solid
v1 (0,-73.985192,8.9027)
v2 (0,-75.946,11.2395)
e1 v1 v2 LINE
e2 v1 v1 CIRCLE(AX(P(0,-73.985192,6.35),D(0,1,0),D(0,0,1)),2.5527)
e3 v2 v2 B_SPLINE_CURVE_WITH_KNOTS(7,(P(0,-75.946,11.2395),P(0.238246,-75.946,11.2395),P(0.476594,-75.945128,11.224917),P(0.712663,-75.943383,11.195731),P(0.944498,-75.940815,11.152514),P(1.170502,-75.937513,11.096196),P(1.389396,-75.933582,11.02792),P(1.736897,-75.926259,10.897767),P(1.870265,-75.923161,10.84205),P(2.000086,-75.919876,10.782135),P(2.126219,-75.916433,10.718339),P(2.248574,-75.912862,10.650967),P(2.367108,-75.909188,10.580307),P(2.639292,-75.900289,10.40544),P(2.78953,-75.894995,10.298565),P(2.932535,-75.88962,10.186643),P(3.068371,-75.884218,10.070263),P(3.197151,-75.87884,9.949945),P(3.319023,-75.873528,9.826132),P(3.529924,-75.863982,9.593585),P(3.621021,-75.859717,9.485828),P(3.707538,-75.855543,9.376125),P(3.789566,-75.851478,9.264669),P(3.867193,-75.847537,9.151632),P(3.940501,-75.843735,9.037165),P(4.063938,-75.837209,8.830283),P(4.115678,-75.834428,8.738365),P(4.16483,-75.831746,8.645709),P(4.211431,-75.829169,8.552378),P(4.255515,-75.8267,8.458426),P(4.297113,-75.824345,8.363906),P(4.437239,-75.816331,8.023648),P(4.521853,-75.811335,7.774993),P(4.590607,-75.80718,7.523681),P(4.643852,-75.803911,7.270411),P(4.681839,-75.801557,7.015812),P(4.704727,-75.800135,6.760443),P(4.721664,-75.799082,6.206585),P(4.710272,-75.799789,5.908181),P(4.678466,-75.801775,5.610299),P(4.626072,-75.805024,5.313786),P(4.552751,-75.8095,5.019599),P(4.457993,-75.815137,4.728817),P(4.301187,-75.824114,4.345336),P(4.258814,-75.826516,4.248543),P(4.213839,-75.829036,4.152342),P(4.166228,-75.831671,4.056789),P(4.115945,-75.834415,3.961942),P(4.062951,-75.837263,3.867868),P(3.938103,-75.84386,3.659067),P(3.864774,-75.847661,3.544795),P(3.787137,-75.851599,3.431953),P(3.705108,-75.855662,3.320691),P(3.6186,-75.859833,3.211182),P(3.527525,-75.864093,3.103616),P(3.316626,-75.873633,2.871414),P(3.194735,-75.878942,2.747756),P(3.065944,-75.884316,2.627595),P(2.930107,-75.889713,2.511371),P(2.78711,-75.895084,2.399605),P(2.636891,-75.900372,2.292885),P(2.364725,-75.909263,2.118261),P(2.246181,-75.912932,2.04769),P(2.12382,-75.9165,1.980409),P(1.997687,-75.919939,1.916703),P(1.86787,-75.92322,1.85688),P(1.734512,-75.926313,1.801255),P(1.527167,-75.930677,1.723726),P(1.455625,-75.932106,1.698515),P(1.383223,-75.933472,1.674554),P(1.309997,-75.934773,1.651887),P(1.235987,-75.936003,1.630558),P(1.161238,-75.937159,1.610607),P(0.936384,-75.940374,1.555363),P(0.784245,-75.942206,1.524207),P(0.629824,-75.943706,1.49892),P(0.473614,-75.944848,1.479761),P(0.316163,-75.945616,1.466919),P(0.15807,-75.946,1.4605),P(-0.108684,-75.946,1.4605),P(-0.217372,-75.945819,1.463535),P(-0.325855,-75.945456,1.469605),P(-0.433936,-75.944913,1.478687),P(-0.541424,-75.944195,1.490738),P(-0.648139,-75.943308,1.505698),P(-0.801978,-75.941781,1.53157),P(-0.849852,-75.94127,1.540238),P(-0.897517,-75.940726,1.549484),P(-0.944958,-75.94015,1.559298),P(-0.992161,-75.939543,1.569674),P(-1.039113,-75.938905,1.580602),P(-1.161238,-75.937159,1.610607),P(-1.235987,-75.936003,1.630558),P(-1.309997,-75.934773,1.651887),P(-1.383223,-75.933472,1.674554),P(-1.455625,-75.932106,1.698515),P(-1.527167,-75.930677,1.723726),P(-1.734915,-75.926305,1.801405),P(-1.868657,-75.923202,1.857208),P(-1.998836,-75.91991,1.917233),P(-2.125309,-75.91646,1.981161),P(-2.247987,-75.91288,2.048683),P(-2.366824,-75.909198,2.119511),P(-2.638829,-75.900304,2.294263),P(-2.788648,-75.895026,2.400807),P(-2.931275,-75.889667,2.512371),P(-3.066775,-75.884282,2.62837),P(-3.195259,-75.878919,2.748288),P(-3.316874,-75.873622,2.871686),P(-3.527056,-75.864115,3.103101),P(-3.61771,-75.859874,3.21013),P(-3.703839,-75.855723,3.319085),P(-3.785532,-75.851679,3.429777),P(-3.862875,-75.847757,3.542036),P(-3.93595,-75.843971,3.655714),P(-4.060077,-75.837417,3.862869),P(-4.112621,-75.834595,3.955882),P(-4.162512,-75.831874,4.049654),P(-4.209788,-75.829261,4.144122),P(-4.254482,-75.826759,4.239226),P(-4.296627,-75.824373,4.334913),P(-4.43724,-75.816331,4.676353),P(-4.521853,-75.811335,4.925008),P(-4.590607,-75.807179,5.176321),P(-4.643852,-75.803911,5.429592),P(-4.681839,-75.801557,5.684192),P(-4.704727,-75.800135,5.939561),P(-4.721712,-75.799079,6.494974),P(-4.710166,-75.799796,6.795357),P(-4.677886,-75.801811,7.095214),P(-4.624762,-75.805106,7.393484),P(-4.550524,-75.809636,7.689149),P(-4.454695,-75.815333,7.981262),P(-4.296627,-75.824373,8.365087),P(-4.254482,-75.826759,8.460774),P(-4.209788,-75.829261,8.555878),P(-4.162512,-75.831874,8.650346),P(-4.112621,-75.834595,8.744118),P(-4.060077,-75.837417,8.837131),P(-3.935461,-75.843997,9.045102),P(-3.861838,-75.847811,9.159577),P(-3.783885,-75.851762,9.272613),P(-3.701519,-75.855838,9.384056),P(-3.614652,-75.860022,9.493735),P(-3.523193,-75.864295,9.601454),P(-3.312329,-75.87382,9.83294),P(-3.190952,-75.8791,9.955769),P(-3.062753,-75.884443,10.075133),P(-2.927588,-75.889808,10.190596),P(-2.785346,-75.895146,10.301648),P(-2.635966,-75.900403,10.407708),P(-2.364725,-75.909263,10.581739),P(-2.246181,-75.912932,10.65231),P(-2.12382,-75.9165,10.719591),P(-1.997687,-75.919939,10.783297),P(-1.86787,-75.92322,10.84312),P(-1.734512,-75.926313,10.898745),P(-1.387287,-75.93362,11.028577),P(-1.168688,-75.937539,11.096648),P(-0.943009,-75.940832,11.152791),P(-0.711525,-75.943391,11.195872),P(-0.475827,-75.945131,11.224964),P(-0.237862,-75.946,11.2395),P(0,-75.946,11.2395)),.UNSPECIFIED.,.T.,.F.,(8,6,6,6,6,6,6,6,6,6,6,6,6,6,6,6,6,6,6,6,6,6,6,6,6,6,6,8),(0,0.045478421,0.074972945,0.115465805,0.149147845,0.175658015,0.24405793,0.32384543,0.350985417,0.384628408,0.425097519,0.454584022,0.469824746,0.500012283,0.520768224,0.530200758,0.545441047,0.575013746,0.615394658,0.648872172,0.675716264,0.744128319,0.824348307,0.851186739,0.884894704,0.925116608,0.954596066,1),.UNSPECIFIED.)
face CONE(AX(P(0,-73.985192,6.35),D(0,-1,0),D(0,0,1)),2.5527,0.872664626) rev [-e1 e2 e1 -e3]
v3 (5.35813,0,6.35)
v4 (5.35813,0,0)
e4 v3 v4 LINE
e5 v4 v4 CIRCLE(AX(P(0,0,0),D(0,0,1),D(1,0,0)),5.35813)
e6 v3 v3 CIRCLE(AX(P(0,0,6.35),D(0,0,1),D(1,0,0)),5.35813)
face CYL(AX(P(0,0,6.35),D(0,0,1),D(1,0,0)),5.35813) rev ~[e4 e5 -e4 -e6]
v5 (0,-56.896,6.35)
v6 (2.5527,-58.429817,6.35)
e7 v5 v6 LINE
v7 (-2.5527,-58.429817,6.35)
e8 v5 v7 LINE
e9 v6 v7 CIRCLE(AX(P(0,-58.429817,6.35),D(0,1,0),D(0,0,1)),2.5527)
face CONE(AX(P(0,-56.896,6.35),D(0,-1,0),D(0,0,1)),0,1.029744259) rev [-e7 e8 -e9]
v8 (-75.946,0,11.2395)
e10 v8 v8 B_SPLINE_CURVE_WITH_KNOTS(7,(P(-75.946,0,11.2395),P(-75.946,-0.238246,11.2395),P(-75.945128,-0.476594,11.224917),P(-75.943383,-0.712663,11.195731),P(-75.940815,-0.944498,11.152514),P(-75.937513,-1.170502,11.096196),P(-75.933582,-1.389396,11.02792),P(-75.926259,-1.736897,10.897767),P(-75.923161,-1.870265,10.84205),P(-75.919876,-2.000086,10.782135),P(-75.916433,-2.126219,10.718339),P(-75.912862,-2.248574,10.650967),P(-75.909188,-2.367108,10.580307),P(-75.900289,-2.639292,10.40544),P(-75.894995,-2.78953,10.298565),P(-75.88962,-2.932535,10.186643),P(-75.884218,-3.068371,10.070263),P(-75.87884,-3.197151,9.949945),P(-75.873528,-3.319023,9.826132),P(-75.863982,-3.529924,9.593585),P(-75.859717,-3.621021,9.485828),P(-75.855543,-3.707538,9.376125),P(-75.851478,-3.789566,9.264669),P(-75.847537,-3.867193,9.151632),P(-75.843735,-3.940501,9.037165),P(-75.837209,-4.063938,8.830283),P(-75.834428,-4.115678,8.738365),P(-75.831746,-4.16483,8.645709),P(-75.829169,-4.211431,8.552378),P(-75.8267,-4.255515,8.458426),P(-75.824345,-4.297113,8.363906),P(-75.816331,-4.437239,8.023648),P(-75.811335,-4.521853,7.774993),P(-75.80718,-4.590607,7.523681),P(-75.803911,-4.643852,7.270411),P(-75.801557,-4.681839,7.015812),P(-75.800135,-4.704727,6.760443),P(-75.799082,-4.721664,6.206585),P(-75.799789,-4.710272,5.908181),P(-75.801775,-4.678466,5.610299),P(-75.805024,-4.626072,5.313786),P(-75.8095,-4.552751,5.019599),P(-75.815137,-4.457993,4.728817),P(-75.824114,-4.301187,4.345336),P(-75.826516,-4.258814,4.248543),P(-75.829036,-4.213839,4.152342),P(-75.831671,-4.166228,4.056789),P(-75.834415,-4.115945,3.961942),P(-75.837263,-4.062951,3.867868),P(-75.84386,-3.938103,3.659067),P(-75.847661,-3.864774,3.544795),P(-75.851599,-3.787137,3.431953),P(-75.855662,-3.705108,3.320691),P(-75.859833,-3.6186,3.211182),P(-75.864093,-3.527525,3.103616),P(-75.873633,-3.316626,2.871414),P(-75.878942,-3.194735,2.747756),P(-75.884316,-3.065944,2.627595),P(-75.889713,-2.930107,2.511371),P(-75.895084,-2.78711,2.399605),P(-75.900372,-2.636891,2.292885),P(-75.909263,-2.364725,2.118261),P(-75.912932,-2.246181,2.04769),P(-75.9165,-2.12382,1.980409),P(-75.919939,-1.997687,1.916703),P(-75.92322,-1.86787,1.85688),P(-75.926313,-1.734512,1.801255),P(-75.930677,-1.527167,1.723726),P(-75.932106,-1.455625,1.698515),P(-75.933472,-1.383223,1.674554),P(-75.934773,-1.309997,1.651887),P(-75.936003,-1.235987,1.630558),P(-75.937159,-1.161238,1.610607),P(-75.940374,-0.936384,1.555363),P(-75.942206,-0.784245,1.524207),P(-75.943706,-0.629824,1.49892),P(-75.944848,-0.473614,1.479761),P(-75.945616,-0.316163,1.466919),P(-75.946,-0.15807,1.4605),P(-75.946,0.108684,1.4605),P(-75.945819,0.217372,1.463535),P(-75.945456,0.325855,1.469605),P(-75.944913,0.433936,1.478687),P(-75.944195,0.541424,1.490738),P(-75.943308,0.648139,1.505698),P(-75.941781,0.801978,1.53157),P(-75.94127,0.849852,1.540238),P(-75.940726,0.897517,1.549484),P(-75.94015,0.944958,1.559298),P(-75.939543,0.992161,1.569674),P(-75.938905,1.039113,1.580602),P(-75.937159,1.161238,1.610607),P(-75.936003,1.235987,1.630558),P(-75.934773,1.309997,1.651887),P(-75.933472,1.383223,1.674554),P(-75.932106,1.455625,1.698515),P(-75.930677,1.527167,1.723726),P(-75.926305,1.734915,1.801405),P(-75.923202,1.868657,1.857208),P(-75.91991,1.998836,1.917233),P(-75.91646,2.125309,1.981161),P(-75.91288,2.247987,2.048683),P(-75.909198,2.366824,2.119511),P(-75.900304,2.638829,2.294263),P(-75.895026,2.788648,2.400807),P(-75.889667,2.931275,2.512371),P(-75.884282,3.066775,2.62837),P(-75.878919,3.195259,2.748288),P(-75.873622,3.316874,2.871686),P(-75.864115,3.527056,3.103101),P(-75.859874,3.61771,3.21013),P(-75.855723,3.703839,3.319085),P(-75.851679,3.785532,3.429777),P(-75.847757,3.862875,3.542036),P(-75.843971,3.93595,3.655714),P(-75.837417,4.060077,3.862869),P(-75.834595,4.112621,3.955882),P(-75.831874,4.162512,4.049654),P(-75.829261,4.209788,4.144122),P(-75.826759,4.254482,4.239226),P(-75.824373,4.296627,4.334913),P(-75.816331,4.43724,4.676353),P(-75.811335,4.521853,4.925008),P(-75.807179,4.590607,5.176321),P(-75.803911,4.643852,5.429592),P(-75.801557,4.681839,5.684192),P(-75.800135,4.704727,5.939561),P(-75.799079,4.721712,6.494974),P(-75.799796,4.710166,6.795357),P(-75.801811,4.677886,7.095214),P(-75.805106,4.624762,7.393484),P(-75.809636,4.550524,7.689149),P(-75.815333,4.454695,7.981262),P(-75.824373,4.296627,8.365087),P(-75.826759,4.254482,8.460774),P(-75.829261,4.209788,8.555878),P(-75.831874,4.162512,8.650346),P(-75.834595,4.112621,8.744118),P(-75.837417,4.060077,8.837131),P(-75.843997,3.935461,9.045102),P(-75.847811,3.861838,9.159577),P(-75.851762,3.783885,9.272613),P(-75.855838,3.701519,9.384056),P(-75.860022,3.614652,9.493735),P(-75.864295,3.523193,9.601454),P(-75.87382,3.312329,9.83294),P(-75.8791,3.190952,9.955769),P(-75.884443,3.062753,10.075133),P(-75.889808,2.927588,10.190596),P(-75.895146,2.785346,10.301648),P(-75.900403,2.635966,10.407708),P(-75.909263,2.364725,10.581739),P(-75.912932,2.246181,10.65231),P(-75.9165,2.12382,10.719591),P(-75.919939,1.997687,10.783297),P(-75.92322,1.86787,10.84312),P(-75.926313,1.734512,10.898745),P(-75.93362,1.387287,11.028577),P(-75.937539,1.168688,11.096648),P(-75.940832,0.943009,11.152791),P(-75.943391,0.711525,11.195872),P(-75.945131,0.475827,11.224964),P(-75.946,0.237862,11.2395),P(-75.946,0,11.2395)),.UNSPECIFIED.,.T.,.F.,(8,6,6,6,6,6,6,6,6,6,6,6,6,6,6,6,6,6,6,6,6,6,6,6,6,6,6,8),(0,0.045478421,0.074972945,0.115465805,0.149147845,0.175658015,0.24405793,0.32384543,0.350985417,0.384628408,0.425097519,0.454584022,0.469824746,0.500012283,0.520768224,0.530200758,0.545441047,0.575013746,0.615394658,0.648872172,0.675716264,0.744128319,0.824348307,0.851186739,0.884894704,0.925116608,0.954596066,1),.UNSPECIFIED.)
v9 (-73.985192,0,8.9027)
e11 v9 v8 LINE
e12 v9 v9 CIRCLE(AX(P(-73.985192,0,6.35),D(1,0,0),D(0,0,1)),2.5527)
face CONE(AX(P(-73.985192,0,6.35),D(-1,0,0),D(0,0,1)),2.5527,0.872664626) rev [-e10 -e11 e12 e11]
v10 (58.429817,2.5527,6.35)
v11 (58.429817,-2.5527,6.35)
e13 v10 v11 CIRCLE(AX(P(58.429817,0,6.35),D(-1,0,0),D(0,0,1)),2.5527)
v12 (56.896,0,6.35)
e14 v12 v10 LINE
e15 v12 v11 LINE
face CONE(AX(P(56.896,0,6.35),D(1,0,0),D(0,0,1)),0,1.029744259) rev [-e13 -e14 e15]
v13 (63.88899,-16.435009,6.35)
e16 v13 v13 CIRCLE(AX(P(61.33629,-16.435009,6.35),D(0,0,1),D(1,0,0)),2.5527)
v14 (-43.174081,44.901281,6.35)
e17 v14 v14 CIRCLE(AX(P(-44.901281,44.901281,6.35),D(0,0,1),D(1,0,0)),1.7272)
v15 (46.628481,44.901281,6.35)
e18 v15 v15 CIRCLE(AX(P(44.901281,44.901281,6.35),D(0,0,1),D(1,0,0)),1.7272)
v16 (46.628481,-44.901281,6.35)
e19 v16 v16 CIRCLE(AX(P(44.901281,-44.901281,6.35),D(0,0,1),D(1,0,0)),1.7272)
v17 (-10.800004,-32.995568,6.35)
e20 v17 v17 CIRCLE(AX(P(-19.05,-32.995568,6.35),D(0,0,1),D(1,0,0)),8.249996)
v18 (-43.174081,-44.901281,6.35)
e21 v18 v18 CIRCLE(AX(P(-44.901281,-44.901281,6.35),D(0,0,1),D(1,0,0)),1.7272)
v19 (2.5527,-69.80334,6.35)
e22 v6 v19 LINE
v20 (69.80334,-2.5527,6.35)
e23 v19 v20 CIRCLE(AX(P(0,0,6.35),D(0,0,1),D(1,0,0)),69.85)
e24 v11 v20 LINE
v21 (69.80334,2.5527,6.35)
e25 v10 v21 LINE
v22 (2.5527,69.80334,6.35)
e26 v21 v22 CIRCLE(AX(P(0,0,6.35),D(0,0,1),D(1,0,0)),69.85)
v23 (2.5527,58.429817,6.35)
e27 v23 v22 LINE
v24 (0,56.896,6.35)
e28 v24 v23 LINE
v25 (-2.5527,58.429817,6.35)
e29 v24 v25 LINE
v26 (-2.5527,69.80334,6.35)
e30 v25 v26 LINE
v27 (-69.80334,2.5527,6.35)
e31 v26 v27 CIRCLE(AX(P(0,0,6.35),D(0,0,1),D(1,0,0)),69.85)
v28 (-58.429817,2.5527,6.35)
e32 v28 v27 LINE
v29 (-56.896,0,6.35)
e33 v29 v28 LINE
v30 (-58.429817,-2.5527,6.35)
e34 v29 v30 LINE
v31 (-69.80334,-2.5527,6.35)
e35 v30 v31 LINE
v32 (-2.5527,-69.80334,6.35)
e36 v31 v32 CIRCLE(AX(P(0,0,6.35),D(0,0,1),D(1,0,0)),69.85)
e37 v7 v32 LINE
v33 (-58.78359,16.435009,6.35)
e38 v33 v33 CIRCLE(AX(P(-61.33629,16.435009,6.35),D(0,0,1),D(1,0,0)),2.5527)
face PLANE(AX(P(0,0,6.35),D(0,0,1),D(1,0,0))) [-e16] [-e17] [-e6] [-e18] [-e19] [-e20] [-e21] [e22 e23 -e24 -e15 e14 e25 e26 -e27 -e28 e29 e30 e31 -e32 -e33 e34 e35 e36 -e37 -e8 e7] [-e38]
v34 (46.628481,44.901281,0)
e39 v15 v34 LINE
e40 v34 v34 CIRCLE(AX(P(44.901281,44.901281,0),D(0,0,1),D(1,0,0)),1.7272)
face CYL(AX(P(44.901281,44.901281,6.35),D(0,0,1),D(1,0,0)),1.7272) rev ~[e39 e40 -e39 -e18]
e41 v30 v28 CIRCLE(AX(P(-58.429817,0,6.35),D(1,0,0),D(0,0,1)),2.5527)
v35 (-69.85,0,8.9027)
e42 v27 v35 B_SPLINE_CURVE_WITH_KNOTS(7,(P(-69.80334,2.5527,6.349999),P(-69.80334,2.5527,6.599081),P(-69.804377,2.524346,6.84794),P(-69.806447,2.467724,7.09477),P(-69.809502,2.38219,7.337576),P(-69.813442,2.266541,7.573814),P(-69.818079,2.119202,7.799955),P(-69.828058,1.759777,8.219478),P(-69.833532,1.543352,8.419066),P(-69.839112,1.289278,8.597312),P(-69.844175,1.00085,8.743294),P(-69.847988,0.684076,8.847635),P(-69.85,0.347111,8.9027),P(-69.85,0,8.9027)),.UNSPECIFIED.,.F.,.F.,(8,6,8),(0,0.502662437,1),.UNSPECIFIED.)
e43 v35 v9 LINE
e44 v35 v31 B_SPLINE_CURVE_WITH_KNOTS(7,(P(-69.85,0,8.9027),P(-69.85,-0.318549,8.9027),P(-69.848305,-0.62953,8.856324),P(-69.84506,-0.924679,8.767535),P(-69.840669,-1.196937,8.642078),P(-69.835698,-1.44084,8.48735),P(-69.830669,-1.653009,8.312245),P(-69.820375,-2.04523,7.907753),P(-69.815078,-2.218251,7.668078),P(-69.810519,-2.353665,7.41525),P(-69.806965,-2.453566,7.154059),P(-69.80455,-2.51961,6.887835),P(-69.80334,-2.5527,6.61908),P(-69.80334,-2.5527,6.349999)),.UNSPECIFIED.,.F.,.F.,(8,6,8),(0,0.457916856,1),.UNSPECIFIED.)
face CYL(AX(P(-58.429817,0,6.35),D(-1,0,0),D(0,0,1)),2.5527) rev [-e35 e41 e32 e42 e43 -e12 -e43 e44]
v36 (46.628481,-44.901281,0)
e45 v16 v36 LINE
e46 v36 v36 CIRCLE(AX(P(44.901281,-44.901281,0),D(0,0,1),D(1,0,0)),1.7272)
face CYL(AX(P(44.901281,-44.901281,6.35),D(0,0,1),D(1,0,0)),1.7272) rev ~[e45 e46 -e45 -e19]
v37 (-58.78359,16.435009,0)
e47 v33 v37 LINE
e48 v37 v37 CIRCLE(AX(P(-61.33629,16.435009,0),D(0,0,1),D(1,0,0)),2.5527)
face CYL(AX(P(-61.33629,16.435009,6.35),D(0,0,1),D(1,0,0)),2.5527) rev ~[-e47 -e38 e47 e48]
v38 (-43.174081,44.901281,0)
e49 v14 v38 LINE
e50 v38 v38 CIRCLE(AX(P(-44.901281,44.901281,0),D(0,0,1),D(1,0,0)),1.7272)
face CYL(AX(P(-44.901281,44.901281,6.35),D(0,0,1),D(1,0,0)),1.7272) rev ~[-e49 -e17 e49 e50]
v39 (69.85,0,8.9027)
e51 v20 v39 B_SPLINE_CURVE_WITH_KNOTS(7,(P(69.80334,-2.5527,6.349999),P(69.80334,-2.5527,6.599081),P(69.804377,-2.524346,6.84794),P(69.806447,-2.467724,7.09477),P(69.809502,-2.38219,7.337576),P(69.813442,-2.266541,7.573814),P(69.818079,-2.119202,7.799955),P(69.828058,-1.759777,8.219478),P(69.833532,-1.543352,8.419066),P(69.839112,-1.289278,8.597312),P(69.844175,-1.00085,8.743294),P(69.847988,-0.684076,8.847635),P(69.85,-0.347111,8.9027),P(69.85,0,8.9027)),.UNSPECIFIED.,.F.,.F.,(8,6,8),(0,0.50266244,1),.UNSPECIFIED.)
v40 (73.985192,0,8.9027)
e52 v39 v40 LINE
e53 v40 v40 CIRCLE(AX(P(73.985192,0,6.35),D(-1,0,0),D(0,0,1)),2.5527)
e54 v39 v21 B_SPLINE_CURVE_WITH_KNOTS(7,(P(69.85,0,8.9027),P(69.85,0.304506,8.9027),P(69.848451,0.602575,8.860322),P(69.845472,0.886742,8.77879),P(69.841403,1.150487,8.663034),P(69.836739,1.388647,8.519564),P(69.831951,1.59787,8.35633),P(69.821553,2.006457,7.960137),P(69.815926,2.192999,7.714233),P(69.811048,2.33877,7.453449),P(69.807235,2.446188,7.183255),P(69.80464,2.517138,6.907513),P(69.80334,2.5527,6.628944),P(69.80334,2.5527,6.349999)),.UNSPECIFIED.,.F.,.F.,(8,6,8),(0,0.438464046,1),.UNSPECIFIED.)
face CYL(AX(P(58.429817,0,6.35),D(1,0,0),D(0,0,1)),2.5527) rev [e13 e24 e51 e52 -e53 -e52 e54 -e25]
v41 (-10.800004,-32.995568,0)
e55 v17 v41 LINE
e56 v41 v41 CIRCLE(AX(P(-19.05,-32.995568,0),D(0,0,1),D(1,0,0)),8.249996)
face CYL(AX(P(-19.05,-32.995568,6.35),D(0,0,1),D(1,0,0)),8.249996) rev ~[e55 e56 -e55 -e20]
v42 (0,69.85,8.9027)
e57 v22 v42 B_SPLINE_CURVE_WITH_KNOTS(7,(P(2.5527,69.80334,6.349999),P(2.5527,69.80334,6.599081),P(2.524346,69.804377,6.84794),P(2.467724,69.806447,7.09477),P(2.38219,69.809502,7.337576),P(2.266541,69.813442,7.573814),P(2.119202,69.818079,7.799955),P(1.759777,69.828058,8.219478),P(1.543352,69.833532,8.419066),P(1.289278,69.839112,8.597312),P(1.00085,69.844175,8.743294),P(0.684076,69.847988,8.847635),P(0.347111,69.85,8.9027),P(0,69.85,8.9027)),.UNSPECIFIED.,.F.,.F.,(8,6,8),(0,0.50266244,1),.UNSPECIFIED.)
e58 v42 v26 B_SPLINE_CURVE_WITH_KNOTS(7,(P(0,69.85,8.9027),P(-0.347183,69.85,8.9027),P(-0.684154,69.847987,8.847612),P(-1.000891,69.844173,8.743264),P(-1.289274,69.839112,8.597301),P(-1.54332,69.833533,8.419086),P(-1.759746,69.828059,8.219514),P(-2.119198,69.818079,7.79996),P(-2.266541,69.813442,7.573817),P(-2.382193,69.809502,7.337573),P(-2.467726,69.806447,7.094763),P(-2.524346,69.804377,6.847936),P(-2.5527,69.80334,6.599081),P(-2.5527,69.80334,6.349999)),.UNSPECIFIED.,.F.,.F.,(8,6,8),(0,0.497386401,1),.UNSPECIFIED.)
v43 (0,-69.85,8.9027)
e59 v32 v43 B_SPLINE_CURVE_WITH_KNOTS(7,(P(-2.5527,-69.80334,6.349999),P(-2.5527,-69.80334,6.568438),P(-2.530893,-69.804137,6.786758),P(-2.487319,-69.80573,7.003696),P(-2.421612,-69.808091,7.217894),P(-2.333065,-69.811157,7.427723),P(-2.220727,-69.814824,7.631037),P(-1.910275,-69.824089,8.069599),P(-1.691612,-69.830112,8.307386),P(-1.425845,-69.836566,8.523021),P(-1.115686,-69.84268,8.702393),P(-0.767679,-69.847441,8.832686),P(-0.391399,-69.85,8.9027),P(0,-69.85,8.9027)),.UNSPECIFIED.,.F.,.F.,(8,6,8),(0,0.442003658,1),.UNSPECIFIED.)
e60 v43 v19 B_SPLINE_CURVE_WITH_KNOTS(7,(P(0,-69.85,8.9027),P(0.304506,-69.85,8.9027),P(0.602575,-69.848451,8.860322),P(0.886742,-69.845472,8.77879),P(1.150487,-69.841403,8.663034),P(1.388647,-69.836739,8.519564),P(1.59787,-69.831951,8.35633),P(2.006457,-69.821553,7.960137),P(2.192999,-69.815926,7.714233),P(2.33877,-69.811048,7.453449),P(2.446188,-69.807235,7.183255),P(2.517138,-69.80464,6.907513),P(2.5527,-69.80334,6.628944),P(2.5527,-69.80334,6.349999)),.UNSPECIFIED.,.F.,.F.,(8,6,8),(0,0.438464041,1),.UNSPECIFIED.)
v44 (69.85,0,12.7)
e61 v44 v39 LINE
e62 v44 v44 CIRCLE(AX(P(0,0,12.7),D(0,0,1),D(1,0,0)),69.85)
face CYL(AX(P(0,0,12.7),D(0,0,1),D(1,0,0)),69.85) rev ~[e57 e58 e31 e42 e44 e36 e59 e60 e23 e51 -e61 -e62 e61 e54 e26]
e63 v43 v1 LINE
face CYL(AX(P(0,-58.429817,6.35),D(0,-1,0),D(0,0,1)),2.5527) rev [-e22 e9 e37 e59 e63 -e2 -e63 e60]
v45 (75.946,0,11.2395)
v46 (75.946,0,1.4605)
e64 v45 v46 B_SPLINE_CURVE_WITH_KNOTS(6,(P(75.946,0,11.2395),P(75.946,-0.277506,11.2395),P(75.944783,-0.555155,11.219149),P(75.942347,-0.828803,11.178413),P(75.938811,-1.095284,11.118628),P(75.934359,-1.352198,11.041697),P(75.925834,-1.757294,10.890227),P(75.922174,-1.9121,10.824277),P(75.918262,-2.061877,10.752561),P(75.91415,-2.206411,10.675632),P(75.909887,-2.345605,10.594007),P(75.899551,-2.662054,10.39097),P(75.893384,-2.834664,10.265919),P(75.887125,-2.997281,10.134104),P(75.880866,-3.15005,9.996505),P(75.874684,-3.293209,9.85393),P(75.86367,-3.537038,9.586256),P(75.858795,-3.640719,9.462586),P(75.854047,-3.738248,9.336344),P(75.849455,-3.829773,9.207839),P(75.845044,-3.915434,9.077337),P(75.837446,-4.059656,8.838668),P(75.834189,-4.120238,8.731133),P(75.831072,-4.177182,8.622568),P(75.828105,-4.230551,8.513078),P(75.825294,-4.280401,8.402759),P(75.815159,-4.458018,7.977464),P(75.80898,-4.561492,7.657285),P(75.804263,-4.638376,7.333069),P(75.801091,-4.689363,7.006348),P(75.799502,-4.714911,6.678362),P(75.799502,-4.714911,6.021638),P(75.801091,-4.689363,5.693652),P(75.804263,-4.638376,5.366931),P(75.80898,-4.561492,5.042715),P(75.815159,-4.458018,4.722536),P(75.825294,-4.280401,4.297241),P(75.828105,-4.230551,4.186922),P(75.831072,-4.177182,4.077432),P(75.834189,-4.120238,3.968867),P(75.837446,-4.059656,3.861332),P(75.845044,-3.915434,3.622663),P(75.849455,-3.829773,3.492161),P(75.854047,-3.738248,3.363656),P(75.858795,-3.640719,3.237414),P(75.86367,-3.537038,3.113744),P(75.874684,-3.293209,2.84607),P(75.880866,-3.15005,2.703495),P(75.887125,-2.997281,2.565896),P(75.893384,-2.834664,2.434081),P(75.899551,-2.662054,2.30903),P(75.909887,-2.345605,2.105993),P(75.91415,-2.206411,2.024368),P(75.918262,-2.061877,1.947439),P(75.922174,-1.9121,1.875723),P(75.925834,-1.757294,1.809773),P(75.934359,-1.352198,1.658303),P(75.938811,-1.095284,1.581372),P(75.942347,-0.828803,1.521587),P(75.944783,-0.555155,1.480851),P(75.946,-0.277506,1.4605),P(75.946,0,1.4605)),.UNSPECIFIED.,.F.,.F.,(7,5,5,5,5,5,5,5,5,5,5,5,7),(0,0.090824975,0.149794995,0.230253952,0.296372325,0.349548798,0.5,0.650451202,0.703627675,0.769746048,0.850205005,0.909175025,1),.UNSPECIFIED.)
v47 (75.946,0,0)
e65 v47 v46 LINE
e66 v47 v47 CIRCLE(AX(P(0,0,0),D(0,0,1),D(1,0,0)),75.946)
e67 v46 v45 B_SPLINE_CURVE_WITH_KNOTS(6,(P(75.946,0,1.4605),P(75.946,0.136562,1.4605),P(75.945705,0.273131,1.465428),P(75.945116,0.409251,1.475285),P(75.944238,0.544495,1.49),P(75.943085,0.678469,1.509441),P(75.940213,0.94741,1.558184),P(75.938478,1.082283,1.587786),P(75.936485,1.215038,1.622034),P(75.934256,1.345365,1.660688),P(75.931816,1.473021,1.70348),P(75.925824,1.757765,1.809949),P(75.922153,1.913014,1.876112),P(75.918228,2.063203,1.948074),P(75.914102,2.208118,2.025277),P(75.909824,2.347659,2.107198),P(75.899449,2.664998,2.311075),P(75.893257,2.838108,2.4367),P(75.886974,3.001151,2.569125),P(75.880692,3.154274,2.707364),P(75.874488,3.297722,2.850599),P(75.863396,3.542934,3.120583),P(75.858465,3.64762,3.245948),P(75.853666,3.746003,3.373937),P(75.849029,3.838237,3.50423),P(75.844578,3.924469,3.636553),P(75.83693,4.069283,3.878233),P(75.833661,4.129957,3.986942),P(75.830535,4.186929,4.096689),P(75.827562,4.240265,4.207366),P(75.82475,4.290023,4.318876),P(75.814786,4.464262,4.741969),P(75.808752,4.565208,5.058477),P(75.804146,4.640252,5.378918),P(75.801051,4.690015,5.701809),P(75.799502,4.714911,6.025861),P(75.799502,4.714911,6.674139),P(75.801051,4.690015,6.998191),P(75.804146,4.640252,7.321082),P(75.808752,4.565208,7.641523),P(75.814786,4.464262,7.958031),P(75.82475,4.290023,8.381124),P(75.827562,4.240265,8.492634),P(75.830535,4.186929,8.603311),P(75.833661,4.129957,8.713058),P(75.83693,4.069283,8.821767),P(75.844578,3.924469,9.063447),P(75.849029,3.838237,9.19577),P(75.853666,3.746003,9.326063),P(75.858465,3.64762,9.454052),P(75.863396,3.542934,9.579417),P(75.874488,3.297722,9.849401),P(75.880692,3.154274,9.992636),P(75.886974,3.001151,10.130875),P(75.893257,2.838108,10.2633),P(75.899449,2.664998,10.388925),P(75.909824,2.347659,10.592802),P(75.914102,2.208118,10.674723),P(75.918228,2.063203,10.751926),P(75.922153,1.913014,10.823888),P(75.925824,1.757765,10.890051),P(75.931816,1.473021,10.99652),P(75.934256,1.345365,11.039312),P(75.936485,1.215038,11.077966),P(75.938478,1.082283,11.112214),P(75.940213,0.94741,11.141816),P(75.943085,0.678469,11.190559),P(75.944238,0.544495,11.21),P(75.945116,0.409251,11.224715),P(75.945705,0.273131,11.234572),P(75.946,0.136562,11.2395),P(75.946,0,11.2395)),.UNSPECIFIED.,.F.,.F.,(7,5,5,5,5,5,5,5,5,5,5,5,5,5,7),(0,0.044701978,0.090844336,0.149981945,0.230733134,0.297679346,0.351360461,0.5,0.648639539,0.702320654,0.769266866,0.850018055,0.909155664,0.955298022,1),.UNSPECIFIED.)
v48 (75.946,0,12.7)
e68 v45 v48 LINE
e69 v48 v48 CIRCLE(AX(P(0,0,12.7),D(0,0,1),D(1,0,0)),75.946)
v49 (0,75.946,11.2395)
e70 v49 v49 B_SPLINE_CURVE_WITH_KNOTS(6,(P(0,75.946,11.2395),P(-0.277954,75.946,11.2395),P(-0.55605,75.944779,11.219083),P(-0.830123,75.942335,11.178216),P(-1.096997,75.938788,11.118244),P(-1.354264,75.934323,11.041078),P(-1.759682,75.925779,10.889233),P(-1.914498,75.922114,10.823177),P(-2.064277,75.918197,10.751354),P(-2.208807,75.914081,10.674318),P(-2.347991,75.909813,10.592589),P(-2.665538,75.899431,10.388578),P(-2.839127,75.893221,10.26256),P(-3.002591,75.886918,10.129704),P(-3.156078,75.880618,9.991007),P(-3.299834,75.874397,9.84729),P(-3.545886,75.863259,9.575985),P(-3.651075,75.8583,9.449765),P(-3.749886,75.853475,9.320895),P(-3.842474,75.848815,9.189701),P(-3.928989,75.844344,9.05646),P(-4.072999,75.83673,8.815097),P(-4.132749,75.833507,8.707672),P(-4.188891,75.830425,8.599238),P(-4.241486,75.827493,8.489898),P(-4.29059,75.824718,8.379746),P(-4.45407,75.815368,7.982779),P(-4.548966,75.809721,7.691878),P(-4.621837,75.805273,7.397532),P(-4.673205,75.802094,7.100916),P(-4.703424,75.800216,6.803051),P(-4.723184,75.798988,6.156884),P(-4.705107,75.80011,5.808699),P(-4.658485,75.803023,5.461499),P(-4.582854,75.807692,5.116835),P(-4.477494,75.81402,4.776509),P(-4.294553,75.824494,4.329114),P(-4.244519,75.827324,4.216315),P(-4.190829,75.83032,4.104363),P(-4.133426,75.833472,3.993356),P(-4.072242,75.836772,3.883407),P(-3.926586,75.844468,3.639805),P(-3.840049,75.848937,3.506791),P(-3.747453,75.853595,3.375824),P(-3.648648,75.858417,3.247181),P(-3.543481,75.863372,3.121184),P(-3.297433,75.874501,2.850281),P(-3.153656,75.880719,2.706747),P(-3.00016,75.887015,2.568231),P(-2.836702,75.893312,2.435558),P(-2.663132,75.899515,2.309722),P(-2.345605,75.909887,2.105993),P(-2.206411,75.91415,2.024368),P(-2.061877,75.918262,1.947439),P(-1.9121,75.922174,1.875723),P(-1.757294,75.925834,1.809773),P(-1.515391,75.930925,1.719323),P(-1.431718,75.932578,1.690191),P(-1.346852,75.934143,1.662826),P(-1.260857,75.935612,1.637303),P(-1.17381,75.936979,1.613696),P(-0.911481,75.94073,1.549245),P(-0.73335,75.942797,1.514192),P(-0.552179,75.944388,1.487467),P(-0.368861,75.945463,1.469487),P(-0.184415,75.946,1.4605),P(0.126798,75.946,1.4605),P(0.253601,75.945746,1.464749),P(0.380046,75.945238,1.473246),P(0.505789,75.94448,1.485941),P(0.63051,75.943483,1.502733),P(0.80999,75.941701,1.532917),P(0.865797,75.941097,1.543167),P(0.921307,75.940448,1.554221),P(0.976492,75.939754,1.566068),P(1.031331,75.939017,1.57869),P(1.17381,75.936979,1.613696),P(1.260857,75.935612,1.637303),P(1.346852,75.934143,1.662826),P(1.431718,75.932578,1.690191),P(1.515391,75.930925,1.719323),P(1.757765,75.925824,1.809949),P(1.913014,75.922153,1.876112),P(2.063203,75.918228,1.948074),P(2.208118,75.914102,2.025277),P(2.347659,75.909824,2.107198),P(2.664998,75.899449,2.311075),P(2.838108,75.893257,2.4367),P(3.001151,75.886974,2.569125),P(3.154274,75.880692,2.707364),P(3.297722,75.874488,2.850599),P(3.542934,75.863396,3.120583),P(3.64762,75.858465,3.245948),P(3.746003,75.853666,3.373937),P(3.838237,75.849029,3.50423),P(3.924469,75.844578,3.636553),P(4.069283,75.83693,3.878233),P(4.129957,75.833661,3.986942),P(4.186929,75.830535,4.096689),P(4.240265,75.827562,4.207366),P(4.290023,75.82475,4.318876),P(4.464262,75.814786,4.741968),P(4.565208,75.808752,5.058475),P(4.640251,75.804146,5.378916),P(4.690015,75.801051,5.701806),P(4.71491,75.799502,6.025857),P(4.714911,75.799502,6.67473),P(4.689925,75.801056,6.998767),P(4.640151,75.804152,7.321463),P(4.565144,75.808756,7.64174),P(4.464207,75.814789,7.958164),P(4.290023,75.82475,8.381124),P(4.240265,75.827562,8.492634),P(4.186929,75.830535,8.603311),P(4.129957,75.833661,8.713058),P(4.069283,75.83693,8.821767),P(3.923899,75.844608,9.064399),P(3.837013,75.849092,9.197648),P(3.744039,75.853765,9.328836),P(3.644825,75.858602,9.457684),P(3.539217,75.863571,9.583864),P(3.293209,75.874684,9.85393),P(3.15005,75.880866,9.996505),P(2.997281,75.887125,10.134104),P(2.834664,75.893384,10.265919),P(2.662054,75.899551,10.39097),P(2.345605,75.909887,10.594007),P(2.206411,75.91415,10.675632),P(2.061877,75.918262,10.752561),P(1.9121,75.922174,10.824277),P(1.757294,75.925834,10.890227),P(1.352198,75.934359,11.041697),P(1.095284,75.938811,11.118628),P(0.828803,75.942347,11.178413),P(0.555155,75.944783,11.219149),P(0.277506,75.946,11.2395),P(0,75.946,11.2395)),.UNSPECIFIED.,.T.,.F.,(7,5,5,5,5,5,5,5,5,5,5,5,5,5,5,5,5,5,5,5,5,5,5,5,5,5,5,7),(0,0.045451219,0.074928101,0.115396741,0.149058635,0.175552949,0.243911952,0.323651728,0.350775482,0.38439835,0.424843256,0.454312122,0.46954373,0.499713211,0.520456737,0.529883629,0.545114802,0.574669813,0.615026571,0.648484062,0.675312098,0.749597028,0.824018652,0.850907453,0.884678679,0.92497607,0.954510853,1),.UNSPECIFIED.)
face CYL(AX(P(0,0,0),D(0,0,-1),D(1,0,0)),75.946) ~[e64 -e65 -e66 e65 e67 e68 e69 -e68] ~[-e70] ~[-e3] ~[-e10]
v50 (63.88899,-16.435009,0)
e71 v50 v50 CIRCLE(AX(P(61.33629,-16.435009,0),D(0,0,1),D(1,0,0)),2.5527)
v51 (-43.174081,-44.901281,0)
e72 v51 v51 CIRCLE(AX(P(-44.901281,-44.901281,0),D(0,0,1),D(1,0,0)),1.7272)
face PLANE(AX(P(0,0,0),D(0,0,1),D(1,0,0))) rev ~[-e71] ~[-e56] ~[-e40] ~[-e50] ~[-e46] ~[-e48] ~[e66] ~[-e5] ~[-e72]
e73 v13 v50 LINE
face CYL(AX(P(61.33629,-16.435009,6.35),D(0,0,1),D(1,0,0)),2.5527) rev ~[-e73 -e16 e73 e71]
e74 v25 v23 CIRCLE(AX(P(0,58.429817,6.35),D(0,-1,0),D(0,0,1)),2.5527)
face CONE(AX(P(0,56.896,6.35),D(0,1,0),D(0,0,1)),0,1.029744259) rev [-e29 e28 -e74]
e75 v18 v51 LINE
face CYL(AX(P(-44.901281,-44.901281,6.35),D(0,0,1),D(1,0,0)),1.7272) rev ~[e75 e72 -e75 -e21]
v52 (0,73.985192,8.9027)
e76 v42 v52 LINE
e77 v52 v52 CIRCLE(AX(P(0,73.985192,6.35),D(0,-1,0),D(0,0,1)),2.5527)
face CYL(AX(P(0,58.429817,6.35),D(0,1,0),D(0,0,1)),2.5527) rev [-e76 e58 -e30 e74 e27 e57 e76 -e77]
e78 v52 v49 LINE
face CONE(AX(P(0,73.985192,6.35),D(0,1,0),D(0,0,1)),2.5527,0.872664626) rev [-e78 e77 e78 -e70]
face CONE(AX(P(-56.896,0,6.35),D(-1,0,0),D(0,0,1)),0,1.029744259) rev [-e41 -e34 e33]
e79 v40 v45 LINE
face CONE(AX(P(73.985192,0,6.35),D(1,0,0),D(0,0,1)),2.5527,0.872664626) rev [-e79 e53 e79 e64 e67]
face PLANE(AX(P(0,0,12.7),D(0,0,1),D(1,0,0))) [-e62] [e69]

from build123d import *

# Parameters (mm, degrees)
SKETCH1_R           = 75.946
BOSS_EXTRUDE1_DEPTH = 12.7
SKETCH2_R           = 69.85
CUT_EXTRUDE1_DEPTH  = 6.35
SKETCH3_R           = 5.35813
SKETCH3_R_2         = 8.2499962
SKETCH3_R_3         = 2.5527
SKETCH3_R_4         = 1.7272
CUT_EXTRUDE2_DEPTH  = 108.59141384
CIRPATTERN1_COUNT   = 4


with BuildPart() as part:
    # Sketch1 → Boss-Extrude1 (new body)
    with BuildSketch(Plane.XY):
        Circle(SKETCH1_R)
    extrude(amount=BOSS_EXTRUDE1_DEPTH)

    # Sketch2 → Cut-Extrude1 (cut)
    with BuildSketch(Plane.XY.offset(12.7)):
        Circle(SKETCH2_R)
    extrude(amount=-CUT_EXTRUDE1_DEPTH, mode=Mode.SUBTRACT)

    # Sketch3 → Cut-Extrude2 (cut, through all)
    with BuildSketch(Plane.XY.offset(6.35)):
        Circle(SKETCH3_R)
        with Locations((-19.05, -32.995567884)):
            Circle(SKETCH3_R_2)
        with Locations((-61.336289969, 16.435009364)):
            Circle(SKETCH3_R_3)
        with Locations((61.336289969, -16.435009364)):
            Circle(SKETCH3_R_3)
        with Locations((44.901280605, 44.901280605)):
            Circle(SKETCH3_R_4)
        with Locations((-44.901280605, 44.901280605)):
            Circle(SKETCH3_R_4)
        with Locations((-44.901280605, -44.901280605)):
            Circle(SKETCH3_R_4)
        with Locations((44.901280605, -44.901280605)):
            Circle(SKETCH3_R_4)
    extrude(amount=-CUT_EXTRUDE2_DEPTH, mode=Mode.SUBTRACT)

    # Sketch5 → CSK for #10 Flat Head Machine Screw (100)1 (revolve, cut)
    with BuildSketch(Plane(origin=(0, 75.946, 6.35), x_dir=(0, 0, 1), z_dir=(1, 0, 0))):
        Polygon((0, 0), (0, 19.05), (2.5527, 17.516183098), (2.5527, 1.960808018), (4.8895, 0), align=None)
    csk_for_10_flat_head_machine_screw_100 = revolve(axis=Axis((0, 82.296, 6.35), (0, -1, 0)), mode=Mode.SUBTRACT)

    # CirPattern1: CSK for #10 Flat Head Machine Screw (100)1 ×4 about axis
    cirpattern1_axis = Axis((0, 0, 12.7), (0, 0, 1))
    for i in range(1, CIRPATTERN1_COUNT):
        add(csk_for_10_flat_head_machine_screw_100.rotate(cirpattern1_axis, i * 360 / CIRPATTERN1_COUNT), mode=Mode.SUBTRACT)


solid = part.part
